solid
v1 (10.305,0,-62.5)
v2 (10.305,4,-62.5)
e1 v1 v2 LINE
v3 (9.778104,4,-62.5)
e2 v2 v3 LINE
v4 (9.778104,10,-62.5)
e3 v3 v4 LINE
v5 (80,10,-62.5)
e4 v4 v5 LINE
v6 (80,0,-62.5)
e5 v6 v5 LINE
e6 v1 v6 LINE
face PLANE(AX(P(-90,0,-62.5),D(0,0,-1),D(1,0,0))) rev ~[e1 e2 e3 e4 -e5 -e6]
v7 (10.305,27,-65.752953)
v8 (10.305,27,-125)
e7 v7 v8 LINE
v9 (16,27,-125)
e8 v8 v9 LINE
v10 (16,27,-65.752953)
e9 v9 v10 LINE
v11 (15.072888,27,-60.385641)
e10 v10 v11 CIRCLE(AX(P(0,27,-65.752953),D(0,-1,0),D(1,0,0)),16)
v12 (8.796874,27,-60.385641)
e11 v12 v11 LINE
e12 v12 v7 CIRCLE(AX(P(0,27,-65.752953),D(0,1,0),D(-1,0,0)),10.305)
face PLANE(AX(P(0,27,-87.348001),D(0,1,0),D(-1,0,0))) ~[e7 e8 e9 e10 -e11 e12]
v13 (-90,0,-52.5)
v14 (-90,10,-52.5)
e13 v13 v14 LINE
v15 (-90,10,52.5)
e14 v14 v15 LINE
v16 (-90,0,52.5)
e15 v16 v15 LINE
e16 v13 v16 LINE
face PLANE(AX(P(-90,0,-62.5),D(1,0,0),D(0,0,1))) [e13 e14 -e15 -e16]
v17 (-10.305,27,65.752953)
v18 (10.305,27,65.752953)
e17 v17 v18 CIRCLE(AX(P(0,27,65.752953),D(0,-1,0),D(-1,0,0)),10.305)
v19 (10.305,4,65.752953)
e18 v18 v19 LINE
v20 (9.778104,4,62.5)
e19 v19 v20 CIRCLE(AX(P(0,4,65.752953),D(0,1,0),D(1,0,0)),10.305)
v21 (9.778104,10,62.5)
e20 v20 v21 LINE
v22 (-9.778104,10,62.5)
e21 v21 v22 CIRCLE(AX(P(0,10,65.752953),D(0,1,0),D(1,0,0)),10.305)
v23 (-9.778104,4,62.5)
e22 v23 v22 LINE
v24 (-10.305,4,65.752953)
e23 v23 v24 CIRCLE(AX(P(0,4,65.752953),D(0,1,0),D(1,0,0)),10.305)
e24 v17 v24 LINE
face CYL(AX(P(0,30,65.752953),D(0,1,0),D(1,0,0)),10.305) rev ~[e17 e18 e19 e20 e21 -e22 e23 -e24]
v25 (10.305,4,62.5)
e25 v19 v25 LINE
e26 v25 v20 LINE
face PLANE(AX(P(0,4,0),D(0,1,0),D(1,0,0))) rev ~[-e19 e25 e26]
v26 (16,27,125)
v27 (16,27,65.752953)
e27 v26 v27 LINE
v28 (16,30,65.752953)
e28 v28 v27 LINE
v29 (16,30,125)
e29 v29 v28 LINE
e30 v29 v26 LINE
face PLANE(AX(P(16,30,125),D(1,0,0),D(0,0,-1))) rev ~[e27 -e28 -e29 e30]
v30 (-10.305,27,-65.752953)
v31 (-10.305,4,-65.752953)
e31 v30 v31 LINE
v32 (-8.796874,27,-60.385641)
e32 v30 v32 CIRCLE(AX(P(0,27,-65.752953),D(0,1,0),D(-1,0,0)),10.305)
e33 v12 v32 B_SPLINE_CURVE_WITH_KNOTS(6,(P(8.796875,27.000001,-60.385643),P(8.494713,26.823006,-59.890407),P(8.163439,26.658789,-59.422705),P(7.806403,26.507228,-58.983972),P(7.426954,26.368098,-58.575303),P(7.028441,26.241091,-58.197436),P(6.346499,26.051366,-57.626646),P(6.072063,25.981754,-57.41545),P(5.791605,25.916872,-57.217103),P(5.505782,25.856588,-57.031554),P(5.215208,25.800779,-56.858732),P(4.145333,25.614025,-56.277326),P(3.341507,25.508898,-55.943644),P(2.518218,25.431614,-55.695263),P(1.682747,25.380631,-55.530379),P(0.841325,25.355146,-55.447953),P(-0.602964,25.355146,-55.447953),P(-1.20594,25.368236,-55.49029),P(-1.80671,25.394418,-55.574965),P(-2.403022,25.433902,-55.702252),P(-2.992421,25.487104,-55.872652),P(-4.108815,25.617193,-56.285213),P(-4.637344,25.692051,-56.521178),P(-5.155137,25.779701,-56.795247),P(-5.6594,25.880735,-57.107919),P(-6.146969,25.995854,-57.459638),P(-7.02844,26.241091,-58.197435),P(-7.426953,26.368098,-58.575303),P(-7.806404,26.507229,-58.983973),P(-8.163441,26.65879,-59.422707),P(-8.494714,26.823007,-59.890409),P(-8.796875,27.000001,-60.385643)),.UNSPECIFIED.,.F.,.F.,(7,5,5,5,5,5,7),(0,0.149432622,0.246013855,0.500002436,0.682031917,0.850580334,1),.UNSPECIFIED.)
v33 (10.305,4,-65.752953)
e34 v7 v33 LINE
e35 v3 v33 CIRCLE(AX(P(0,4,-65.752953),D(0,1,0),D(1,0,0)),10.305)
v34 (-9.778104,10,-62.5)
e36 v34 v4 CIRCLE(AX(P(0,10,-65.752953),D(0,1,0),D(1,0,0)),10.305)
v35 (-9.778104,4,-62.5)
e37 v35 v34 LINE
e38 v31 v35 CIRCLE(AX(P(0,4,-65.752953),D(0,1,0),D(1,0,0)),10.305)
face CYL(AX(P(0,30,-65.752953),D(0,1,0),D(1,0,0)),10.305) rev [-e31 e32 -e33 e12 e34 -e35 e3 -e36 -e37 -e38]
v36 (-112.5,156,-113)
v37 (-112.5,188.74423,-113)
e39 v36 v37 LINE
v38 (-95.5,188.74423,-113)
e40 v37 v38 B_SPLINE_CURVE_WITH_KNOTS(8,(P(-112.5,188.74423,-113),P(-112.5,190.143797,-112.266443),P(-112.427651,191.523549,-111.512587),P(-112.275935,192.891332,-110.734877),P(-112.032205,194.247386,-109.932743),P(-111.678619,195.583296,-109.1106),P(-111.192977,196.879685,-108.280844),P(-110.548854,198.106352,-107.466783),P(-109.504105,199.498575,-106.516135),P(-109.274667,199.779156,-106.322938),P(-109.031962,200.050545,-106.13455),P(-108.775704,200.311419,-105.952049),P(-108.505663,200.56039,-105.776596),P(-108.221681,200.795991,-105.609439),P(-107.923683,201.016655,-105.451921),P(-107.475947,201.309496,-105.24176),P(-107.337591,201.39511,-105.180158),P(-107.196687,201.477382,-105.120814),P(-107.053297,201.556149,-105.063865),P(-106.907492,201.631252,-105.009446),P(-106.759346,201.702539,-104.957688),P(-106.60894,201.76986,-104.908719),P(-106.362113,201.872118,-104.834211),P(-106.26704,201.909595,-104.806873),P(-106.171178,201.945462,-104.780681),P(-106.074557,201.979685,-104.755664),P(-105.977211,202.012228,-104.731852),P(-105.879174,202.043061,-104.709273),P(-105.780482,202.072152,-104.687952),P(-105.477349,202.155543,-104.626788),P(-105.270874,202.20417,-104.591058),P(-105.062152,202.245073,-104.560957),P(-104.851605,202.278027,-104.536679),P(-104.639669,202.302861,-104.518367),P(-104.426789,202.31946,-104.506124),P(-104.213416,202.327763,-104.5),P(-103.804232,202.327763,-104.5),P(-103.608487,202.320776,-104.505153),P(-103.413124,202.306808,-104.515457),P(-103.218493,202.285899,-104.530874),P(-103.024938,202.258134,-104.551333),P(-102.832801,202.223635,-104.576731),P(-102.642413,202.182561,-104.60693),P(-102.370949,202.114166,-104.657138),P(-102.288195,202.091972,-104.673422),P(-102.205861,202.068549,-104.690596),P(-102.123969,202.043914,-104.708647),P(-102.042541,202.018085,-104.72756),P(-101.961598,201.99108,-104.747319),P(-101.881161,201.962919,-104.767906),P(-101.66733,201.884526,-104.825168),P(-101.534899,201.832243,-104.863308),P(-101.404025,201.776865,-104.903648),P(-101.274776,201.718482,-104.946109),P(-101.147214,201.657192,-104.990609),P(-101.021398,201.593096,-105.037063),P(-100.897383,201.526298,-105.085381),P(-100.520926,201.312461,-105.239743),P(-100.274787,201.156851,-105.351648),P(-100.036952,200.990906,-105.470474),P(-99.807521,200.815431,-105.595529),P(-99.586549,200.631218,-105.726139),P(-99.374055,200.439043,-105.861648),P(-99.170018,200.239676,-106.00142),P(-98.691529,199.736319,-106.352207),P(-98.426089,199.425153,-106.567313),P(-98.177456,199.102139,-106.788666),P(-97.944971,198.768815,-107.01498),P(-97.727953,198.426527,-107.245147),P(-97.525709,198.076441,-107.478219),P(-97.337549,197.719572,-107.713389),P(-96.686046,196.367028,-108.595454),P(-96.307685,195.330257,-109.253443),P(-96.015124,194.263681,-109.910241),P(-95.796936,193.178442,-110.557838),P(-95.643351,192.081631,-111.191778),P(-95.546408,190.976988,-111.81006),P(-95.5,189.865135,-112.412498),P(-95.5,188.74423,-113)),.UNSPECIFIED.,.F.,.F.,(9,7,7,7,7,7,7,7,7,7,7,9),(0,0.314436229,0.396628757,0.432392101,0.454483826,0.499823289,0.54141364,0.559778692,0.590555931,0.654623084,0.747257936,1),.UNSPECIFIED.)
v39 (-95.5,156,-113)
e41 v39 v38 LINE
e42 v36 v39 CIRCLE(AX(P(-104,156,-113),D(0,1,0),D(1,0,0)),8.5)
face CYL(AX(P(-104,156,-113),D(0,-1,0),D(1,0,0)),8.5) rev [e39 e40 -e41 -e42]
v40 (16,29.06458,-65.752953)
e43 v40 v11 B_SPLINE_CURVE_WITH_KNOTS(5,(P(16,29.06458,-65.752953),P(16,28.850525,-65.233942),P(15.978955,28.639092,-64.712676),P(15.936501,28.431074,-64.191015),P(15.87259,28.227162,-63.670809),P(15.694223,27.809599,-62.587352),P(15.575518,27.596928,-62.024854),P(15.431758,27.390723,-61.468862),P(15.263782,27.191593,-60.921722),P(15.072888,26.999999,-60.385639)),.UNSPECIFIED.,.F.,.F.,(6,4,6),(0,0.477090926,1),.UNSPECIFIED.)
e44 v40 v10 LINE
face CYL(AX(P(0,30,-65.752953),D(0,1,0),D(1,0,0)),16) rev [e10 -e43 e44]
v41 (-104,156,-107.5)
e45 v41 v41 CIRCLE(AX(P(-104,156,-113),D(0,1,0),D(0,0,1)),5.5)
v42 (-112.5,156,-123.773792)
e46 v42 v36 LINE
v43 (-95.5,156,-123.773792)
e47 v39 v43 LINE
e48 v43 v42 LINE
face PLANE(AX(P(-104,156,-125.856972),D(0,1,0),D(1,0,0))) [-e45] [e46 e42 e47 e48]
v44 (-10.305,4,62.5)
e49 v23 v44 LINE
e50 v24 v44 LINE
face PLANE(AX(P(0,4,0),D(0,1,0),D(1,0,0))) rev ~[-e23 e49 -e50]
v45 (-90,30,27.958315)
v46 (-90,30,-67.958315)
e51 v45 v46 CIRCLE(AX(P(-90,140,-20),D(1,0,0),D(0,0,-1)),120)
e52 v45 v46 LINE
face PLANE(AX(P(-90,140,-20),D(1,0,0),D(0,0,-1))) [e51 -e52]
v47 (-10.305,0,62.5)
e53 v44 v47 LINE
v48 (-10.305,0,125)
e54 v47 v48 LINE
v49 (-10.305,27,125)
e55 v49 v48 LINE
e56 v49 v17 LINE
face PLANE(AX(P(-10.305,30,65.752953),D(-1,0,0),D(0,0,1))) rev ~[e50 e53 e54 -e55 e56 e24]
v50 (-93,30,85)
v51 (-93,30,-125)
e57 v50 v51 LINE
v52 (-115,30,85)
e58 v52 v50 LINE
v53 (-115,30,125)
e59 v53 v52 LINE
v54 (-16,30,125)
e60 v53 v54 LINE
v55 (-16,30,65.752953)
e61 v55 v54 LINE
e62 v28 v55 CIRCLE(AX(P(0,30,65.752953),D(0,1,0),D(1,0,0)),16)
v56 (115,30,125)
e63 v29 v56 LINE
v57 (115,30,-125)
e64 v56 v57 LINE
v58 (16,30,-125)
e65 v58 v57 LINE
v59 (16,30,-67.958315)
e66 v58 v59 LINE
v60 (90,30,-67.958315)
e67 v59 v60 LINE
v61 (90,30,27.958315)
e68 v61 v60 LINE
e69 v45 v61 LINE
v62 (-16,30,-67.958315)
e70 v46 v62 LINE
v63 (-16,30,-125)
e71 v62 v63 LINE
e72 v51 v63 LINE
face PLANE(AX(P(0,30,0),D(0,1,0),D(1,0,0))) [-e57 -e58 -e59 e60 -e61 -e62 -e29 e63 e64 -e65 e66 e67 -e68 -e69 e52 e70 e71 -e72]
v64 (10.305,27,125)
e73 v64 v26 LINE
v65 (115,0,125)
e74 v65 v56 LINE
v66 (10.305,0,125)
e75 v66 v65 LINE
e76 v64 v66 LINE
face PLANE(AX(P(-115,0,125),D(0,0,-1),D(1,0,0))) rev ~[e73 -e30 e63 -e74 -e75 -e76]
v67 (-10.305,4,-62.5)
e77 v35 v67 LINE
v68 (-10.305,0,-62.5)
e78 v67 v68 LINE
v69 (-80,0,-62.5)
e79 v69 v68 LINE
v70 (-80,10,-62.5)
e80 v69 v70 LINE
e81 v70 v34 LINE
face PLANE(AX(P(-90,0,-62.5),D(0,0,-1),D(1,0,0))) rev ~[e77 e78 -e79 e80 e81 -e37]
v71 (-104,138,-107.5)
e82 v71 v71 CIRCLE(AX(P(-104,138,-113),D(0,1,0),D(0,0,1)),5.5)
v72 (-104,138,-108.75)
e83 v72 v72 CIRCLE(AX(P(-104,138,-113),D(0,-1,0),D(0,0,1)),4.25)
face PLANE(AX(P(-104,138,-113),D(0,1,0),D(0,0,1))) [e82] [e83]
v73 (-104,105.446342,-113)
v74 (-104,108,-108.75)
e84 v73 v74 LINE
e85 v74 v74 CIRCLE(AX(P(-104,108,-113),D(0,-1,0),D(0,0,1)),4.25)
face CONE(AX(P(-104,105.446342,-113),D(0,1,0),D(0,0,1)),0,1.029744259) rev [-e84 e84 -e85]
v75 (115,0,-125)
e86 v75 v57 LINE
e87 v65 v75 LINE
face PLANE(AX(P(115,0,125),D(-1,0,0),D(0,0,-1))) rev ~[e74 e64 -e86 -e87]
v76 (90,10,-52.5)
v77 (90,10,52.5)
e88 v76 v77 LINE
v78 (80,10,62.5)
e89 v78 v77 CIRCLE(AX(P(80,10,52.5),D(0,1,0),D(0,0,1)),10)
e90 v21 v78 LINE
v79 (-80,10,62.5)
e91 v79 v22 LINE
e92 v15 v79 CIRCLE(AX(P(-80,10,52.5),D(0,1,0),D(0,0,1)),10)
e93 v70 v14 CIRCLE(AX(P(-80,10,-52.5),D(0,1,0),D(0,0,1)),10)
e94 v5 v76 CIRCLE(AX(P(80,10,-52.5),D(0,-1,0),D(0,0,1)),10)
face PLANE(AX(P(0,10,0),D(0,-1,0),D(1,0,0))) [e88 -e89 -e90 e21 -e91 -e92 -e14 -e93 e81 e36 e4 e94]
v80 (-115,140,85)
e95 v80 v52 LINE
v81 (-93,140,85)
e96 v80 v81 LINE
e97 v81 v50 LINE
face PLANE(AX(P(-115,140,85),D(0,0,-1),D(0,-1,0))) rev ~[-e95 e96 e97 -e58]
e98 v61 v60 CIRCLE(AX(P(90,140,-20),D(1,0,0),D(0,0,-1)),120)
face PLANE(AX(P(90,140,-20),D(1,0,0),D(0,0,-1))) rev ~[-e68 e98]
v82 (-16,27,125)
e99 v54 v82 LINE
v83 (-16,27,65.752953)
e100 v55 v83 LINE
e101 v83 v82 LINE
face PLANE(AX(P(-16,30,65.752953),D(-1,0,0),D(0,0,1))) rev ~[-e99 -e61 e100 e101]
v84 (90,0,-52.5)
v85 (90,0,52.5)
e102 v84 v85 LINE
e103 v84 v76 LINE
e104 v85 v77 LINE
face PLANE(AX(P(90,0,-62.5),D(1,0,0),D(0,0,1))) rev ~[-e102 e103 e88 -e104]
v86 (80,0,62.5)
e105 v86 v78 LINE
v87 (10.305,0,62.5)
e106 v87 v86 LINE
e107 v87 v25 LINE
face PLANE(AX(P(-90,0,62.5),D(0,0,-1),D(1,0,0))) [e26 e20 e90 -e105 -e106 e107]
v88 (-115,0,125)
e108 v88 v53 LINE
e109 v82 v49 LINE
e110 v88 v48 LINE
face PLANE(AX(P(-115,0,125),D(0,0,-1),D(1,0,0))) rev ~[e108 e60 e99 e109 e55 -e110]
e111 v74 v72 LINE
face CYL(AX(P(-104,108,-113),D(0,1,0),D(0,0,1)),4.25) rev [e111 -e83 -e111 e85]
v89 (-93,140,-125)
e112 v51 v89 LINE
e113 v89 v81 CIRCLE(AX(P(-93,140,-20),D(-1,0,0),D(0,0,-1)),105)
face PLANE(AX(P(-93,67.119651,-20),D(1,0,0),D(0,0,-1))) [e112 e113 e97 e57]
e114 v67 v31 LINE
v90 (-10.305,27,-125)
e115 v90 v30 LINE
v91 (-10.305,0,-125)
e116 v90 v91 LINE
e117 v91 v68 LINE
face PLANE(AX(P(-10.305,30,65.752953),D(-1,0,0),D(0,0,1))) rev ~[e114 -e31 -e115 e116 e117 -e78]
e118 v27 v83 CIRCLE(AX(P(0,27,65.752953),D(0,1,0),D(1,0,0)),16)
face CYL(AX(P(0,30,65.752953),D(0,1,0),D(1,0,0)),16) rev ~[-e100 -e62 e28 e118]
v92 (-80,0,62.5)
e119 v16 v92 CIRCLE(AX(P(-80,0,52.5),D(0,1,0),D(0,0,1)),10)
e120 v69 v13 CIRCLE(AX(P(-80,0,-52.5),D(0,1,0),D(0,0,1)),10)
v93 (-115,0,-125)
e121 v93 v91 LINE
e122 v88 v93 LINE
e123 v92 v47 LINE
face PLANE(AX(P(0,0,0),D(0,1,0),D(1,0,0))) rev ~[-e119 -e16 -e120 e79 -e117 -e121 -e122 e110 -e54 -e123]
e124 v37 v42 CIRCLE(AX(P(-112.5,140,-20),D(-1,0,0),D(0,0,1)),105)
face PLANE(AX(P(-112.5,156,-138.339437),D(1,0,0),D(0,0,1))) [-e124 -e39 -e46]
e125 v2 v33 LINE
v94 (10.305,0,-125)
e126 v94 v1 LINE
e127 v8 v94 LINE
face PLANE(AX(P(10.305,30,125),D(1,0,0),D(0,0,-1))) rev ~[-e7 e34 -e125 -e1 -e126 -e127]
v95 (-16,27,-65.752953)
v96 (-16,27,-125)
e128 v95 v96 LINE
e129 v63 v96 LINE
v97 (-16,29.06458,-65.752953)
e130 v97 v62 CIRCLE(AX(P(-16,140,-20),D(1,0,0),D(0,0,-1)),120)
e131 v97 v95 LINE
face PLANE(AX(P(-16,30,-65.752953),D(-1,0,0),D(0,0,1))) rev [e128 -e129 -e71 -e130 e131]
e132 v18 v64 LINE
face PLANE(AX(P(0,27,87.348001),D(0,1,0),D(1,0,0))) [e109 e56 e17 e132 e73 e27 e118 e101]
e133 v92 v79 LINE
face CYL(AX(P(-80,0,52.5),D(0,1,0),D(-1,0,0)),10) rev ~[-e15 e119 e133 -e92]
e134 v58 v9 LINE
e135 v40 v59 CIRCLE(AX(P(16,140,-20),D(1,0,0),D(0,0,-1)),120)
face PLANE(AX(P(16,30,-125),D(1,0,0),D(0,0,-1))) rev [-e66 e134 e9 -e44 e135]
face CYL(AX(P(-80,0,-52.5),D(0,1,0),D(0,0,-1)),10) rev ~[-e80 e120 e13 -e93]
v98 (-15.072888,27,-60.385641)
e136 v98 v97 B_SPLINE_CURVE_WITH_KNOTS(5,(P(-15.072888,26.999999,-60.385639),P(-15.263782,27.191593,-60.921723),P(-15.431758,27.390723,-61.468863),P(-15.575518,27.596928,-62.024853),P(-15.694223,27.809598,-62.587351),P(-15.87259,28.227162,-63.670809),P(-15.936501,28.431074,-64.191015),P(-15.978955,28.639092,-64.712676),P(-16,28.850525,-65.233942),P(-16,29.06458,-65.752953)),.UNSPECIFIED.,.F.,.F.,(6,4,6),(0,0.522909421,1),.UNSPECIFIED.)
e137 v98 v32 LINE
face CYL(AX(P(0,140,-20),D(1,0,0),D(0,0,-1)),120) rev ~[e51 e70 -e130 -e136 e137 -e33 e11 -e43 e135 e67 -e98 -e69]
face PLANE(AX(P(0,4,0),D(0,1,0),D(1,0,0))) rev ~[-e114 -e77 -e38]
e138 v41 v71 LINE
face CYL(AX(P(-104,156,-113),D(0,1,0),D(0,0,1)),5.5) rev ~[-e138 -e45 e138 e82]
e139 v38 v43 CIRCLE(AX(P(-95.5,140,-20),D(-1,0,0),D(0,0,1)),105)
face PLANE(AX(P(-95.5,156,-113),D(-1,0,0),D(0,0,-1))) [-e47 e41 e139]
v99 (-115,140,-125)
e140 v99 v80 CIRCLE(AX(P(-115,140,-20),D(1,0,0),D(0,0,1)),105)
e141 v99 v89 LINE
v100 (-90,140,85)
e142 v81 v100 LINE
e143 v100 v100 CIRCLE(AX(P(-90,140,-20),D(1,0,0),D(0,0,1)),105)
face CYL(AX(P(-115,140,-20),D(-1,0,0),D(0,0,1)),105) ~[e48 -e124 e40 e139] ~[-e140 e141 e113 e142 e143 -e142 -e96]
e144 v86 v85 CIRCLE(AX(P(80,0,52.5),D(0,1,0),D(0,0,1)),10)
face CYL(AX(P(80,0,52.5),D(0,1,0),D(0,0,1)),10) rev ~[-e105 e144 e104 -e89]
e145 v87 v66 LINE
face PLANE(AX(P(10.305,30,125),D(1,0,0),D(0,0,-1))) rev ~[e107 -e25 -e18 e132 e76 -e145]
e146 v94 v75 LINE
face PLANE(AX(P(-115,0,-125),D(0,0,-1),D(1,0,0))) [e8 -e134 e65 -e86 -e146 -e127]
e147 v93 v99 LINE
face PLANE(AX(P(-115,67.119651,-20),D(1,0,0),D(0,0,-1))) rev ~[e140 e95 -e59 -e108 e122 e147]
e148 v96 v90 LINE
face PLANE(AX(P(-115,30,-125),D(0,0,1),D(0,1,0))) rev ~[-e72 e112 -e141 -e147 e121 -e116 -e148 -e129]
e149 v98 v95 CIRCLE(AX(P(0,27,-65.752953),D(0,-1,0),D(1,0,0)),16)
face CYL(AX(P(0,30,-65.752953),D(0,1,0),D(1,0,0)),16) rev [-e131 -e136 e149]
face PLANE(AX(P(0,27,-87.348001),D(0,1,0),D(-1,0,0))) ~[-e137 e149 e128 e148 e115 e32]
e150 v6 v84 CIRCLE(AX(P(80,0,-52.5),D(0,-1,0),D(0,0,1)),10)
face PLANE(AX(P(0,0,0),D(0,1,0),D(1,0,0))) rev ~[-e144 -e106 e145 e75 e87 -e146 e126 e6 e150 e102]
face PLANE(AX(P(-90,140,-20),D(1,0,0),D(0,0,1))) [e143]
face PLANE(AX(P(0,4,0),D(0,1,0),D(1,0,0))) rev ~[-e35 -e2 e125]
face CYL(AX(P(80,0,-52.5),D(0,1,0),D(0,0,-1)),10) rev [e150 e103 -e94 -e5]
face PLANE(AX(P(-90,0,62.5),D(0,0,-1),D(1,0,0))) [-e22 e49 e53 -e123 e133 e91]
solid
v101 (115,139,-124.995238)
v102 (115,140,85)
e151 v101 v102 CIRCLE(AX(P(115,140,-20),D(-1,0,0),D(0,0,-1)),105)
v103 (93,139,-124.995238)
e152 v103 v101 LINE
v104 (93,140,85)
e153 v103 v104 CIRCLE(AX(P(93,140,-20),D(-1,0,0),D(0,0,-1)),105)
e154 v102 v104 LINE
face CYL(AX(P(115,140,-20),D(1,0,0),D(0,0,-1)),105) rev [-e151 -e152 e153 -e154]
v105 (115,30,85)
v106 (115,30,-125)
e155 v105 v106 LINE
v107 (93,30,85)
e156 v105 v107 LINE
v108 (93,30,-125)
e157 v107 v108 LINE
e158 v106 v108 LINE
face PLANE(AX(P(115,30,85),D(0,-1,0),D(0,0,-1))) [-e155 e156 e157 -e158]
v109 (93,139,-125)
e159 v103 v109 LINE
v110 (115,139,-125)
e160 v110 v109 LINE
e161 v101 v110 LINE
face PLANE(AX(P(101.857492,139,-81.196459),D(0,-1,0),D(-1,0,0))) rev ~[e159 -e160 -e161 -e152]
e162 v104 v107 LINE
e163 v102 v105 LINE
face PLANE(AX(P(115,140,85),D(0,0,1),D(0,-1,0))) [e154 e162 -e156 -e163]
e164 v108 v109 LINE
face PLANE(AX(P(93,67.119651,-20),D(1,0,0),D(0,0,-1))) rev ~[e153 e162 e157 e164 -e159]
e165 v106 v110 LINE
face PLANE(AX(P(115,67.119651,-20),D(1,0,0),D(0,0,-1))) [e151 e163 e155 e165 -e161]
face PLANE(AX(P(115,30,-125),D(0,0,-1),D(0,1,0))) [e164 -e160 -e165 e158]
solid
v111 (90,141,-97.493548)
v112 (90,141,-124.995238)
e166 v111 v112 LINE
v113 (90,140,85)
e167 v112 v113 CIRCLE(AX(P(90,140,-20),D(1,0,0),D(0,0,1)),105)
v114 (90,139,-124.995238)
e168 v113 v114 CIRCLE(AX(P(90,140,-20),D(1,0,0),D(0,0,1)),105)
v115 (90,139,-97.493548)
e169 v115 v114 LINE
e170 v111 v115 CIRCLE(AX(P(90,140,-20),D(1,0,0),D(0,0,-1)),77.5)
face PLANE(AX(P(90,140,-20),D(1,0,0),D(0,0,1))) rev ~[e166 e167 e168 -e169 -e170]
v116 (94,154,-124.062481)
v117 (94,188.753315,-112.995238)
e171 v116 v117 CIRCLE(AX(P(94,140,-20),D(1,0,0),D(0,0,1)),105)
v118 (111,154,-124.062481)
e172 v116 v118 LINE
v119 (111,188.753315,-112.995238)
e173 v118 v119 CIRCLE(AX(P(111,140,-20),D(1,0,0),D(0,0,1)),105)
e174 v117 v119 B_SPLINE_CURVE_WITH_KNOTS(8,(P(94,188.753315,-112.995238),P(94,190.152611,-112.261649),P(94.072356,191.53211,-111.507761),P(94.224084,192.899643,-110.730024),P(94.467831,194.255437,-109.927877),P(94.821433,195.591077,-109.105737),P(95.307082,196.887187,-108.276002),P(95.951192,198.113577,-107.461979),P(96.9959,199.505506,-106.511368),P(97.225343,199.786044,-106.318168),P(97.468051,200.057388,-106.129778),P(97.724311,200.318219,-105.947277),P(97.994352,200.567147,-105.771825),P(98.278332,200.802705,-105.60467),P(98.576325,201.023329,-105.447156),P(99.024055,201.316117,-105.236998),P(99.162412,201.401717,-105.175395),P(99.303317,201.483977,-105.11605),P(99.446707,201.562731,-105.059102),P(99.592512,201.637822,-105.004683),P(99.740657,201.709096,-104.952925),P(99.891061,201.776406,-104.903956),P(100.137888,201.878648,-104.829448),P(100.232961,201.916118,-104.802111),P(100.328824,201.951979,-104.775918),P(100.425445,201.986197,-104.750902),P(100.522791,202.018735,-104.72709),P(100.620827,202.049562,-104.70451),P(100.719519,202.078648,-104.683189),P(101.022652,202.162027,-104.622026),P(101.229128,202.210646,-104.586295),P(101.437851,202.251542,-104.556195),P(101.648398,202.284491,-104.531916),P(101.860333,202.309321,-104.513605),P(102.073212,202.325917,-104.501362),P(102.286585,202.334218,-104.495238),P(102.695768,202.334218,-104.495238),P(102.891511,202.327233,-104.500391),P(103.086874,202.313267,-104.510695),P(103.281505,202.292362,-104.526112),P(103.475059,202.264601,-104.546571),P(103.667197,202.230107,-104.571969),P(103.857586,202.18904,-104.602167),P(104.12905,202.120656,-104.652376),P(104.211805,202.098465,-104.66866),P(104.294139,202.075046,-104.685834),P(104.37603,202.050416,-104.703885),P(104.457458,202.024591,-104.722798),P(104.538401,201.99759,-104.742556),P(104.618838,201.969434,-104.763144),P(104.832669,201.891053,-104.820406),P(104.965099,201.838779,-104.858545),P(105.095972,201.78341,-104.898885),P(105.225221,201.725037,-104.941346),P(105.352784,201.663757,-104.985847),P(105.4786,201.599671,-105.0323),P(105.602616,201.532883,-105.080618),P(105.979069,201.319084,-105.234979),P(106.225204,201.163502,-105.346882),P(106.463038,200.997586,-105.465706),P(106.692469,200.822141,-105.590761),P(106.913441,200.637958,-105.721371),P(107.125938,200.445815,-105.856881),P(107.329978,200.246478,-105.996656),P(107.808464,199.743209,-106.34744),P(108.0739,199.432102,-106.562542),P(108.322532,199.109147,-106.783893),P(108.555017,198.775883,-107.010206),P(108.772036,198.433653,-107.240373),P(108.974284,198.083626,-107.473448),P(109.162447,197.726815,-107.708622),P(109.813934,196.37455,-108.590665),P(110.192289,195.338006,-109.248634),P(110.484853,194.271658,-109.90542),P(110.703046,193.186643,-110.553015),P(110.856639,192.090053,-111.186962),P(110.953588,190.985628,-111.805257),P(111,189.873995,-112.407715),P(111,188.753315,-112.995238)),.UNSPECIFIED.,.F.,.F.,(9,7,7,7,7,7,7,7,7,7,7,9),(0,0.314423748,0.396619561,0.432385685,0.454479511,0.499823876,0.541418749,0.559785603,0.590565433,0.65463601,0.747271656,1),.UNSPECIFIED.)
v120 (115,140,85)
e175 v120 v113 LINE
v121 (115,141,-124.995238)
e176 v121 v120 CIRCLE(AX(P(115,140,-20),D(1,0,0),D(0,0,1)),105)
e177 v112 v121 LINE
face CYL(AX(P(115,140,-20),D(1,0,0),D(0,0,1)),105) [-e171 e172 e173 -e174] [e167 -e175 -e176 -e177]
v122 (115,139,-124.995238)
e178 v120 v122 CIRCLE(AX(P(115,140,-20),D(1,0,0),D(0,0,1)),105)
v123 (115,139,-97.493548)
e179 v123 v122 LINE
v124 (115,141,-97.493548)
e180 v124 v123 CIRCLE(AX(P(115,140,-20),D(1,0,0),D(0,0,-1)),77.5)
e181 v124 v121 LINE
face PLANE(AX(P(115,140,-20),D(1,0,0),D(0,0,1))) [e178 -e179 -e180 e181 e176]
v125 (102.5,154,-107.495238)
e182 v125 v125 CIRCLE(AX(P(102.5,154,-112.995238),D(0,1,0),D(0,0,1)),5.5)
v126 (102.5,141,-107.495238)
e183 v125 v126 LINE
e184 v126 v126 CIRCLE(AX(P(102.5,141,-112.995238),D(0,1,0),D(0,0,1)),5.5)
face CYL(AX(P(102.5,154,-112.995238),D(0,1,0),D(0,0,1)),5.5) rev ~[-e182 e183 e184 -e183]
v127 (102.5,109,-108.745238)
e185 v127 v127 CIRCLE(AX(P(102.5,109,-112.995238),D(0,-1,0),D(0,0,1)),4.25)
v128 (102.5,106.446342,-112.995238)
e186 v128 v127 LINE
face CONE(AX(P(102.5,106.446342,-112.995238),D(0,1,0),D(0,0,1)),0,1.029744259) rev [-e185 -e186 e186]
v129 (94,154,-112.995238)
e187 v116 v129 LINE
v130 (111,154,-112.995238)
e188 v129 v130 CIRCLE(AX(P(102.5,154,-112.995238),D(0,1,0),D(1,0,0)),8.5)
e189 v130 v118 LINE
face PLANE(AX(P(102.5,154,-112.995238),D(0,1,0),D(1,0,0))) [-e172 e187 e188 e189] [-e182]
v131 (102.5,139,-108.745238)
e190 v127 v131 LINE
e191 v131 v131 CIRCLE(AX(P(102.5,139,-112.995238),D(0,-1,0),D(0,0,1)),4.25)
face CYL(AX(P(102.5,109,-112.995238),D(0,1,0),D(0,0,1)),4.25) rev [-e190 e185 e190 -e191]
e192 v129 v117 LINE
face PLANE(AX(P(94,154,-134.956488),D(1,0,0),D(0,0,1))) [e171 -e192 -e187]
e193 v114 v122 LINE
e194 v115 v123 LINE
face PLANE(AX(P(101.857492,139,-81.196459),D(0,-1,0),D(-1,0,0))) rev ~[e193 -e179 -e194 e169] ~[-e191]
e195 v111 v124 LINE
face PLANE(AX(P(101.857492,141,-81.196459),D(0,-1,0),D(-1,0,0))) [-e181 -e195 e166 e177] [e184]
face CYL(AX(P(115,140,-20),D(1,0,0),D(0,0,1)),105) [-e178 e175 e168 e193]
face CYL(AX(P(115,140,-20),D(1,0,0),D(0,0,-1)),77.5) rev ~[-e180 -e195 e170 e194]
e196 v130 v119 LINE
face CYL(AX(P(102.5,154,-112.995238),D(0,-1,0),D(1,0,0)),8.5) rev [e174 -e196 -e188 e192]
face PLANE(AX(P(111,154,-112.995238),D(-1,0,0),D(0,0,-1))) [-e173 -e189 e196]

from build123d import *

# Parameters (mm, degrees)
SKETCH_3_W           = 230
SKETCH_3_H           = 250
EXTRUDE_1_DEPTH      = 30
CUT_EXTRUDE_1_DEPTH  = 30
CUT_EXTRUDE_2_DEPTH  = 3
CUT_EXTRUDE_START    = -30
SKETCH_5_W           = 20.61
SKETCH_5_H           = 131.50590542
CUT_EXTRUDE_3_DEPTH  = 4
EXTRUDE_START        = 115
SKETCH_6_R           = 105
EXTRUDE_2_DEPTH      = 25
EXTRUDE_START_2      = -115
SKETCH_6_5_R         = 105
EXTRUDE_3_DEPTH      = 25
EXTRUDE_4_DEPTH      = 22
EXTRUDE_5_DEPTH      = 22
SKETCH_10_R          = 120
CUT_EXTRUDE_10_DEPTH = 90
SKETCH_11_R          = 77.5
CUT_EXTRUDE_11_DEPTH = 25
SKETCH_12_W          = 57.586141253
SKETCH_12_H          = 168.151532458
CUT_EXTRUDE_12_DEPTH = 1
CUT_EXTRUDE_START_2  = 156
SKETCH_13_R          = 8.5
CUT_EXTRUDE_13_DEPTH = 143.119103715
SKETCH_14_R          = 5.5
CUT_EXTRUDE_14_DEPTH = 18
CUT_EXTRUDE_START_3  = 154
SKETCH_15_R          = 8.5
CUT_EXTRUDE_15_DEPTH = 145.119103878
SKETCH_16_R          = 5.5
CUT_EXTRUDE_16_DEPTH = 13
SKETCH_21_W          = 180
SKETCH_21_H          = 125
CUT_EXTRUDE_17_DEPTH = 10
FILLET_1_R           = 10


with BuildPart() as part:
    # 草图3 → 凸台-拉伸1 (new body)
    with BuildSketch(Plane(origin=(0, 0, 0), x_dir=(1, 0, 0), z_dir=(0, 1, 0))):
        Rectangle(SKETCH_3_W, SKETCH_3_H)
    extrude(amount=EXTRUDE_1_DEPTH)

    # 草图4 → 切除-拉伸1 (cut)
    with BuildSketch(Plane(origin=(0, 30, 0), x_dir=(1, 0, 0), z_dir=(0, 1, 0))):
        with BuildLine():
            Line((-10.305, -65.75295271), (-10.305, -125))
            Line((-10.305, -125), (10.305, -125))
            Line((10.305, -125), (10.305, -65.75295271))
            ThreePointArc((10.305, -65.75295271), (0, -55.44795271), (-10.305, -65.75295271))
        make_face()
    cut_extrude_1 = extrude(amount=-CUT_EXTRUDE_1_DEPTH, mode=Mode.SUBTRACT)

    # 草图4<3> → 切除-拉伸2 (cut)
    with BuildSketch(Plane(origin=(0, 30, 0), x_dir=(1, 0, 0), z_dir=(0, 1, 0))):
        with BuildLine():
            ThreePointArc((16, -65.75295271), (0, -49.75295271), (-16, -65.75295271))
            Line((-16, -65.75295271), (-16, -125))
            Line((-16, -125), (-10.305, -125))
            Line((-10.305, -125), (-10.305, -65.75295271))
            ThreePointArc((-10.305, -65.75295271), (0, -55.44795271), (10.305, -65.75295271))
            Line((10.305, -65.75295271), (10.305, -125))
            Line((10.305, -125), (16, -125))
            Line((16, -125), (16, -65.75295271))
        make_face()
    cut_extrude_2 = extrude(amount=-CUT_EXTRUDE_2_DEPTH, mode=Mode.SUBTRACT)

    # 镜向1: 切除-拉伸1, 切除-拉伸2 across plane
    add(cut_extrude_1.mirror(Plane.XY), mode=Mode.SUBTRACT)
    add(cut_extrude_2.mirror(Plane.XY), mode=Mode.SUBTRACT)

    # 草图5 → 切除-拉伸3 (cut)
    with BuildSketch(Plane(origin=(0, 30, 0), x_dir=(1, 0, 0), z_dir=(0, 1, 0)).offset(CUT_EXTRUDE_START)):
        Rectangle(SKETCH_5_W, SKETCH_5_H)
    extrude(amount=CUT_EXTRUDE_3_DEPTH, mode=Mode.SUBTRACT)



with BuildPart() as body_2:
    # 草图6 → 凸台-拉伸2 (new body)
    with BuildSketch(Plane(origin=(0, 0, 0), x_dir=(0, 0, -1), z_dir=(1, 0, 0)).offset(EXTRUDE_START)):
        with Locations(Location((20, 140, 0), (0, 0, 180))):
            Circle(SKETCH_6_R)
    extrude(amount=-EXTRUDE_2_DEPTH)

    # 草图11 → 切除-拉伸11 (cut)
    with BuildSketch(Plane(origin=(115, 0, 0), x_dir=(0, 0, -1), z_dir=(1, 0, 0))):
        with Locations((20, 140)):
            Circle(SKETCH_11_R)
    extrude(amount=-CUT_EXTRUDE_11_DEPTH, mode=Mode.SUBTRACT)


with BuildPart() as body_3:
    # 草图6<5> → 凸台-拉伸3 (new body)
    with BuildSketch(Plane(origin=(0, 0, 0), x_dir=(0, 0, -1), z_dir=(1, 0, 0)).offset(EXTRUDE_START_2)):
        with Locations(Location((20, 140, 0), (0, 0, 180))):
            Circle(SKETCH_6_5_R)
    extrude(amount=EXTRUDE_3_DEPTH)


with BuildPart() as body_4:
    # 草图6<8> → 凸台-拉伸4 (new body)
    with BuildSketch(Plane(origin=(0, 0, 0), x_dir=(0, 0, -1), z_dir=(1, 0, 0)).offset(EXTRUDE_START)):
        with BuildLine():
            Line((-85, 30), (125, 30))
            Line((125, 30), (125, 140))
            ThreePointArc((125, 140), (20, 35), (-85, 140))
            Line((-85, 140), (-85, 30))
        make_face()
    extrude(amount=-EXTRUDE_4_DEPTH)


with BuildPart() as part_1:
    add(part.part)

    add(body_3.part)  # 凸台-拉伸5 merges body 3
    # 草图6<10> → 凸台-拉伸5 (add)
    with BuildSketch(Plane(origin=(0, 0, 0), x_dir=(0, 0, -1), z_dir=(1, 0, 0)).offset(EXTRUDE_START_2)):
        with BuildLine():
            Line((-85, 30), (125, 30))
            Line((125, 30), (125, 140))
            ThreePointArc((125, 140), (20, 35), (-85, 140))
            Line((-85, 140), (-85, 30))
        make_face()
    extrude(amount=EXTRUDE_5_DEPTH)

    # 草图10 → 切除-拉伸10 (cut, symmetric)
    with BuildSketch(Plane(origin=(0, 0, 0), x_dir=(0, 0, -1), z_dir=(1, 0, 0))):
        with Locations((20, 140)):
            Circle(SKETCH_10_R)
    extrude(amount=CUT_EXTRUDE_10_DEPTH, both=True, mode=Mode.SUBTRACT)

    # 草图13 → 切除-拉伸13 (cut, through all)
    with BuildSketch(Plane(origin=(0, 0, 0), x_dir=(1, 0, 0), z_dir=(0, 1, 0)).offset(CUT_EXTRUDE_START_2)):
        with BuildLine():
            Line((-112.5, 138.339436781), (-112.5, 113))
            ThreePointArc((-112.5, 113), (-104, 121.5), (-95.5, 113))
            Line((-95.5, 113), (-95.5, 138.339436781))
            Line((-95.5, 138.339436781), (-112.5, 138.339436781))
        make_face()
        with Locations((-104, 113)):
            Circle(SKETCH_13_R)
    extrude(amount=CUT_EXTRUDE_13_DEPTH, mode=Mode.SUBTRACT)

    # 草图14 → 切除-拉伸14 (cut)
    with BuildSketch(Plane(origin=(0, 156, 0), x_dir=(1, 0, 0), z_dir=(0, 1, 0))):
        with Locations(Location((-104, 113, 0), (0, 0, 270))):
            Circle(SKETCH_14_R)
    extrude(amount=-CUT_EXTRUDE_14_DEPTH, mode=Mode.SUBTRACT)

    # 草图18 → M10 螺纹孔1 (revolve, cut)
    with BuildSketch(Plane(origin=(-104, 138, -113), x_dir=(0, 0, 1), z_dir=(1, 0, 0))):
        Polygon((0, 0), (0, 32.553657631), (4.25, 30), (4.25, 0), align=None)
    revolve(axis=Axis((-104, 144.35, -113), (0, -1, 0)), mode=Mode.SUBTRACT)

    # 草图21 → 切除-拉伸17 (cut)
    with BuildSketch(Plane.XZ):
        Rectangle(SKETCH_21_W, SKETCH_21_H)
    extrude(amount=-CUT_EXTRUDE_17_DEPTH, mode=Mode.SUBTRACT)

    # 圆角1
    fillet_1_edges = [part_1.edges().sort_by_distance(p)[0] for p in [
        (-90, 5, 62.5),
        (90, 5, -62.5),
        (-90, 5, -62.5),
        (90, 5, 62.5),
    ]]
    fillet(fillet_1_edges, radius=FILLET_1_R)


with BuildPart() as cut_extrude_12_tool:
    # 草图12 → 切除-拉伸12 (new, symmetric)
    with BuildSketch(Plane(origin=(0, 140, 0), x_dir=(-1, 0, 0), z_dir=(0, -1, 0))):
        with Locations((-101.857491759, 81.196459166)):
            Rectangle(SKETCH_12_W, SKETCH_12_H)
    extrude(amount=CUT_EXTRUDE_12_DEPTH, both=True)


with BuildPart() as body_2_1:
    add(body_2.part)

    # 切除-拉伸12: cut by cut_extrude_12_tool
    add(cut_extrude_12_tool.part, mode=Mode.SUBTRACT)

    # 草图15 → 切除-拉伸15 (cut, through all)
    with BuildSketch(Plane(origin=(0, 0, 0), x_dir=(1, 0, 0), z_dir=(0, 1, 0)).offset(CUT_EXTRUDE_START_3)):
        with Locations((102.5, 112.995237987)):
            Circle(SKETCH_15_R)
        with BuildLine():
            Line((94, 134.956488476), (94, 112.995237987))
            ThreePointArc((94, 112.995237987), (102.5, 121.495237987), (111, 112.995237987))
            Line((111, 112.995237987), (111, 134.956488476))
            Line((111, 134.956488476), (94, 134.956488476))
        make_face()
    extrude(amount=CUT_EXTRUDE_15_DEPTH, mode=Mode.SUBTRACT)

    # 草图16 → 切除-拉伸16 (cut)
    with BuildSketch(Plane(origin=(0, 154, 0), x_dir=(1, 0, 0), z_dir=(0, 1, 0))):
        with Locations(Location((102.5, 112.995237987, 0), (0, 0, 270))):
            Circle(SKETCH_16_R)
    extrude(amount=-CUT_EXTRUDE_16_DEPTH, mode=Mode.SUBTRACT)

    # 草图20 → M10 螺纹孔2 (revolve, cut)
    with BuildSketch(Plane(origin=(102.5, 139, -112.995237987), x_dir=(0, 0, 1), z_dir=(1, 0, 0))):
        Polygon((0, 0), (0, 32.553657631), (4.25, 30), (4.25, 0), align=None)
    revolve(axis=Axis((102.5, 145.35, -112.995237987), (0, -1, 0)), mode=Mode.SUBTRACT)


with BuildPart() as body_4_1:
    add(body_4.part)

    # 切除-拉伸12: cut by cut_extrude_12_tool
    add(cut_extrude_12_tool.part, mode=Mode.SUBTRACT)


solid = Compound([part_1.part, body_2_1.part, body_4_1.part])
